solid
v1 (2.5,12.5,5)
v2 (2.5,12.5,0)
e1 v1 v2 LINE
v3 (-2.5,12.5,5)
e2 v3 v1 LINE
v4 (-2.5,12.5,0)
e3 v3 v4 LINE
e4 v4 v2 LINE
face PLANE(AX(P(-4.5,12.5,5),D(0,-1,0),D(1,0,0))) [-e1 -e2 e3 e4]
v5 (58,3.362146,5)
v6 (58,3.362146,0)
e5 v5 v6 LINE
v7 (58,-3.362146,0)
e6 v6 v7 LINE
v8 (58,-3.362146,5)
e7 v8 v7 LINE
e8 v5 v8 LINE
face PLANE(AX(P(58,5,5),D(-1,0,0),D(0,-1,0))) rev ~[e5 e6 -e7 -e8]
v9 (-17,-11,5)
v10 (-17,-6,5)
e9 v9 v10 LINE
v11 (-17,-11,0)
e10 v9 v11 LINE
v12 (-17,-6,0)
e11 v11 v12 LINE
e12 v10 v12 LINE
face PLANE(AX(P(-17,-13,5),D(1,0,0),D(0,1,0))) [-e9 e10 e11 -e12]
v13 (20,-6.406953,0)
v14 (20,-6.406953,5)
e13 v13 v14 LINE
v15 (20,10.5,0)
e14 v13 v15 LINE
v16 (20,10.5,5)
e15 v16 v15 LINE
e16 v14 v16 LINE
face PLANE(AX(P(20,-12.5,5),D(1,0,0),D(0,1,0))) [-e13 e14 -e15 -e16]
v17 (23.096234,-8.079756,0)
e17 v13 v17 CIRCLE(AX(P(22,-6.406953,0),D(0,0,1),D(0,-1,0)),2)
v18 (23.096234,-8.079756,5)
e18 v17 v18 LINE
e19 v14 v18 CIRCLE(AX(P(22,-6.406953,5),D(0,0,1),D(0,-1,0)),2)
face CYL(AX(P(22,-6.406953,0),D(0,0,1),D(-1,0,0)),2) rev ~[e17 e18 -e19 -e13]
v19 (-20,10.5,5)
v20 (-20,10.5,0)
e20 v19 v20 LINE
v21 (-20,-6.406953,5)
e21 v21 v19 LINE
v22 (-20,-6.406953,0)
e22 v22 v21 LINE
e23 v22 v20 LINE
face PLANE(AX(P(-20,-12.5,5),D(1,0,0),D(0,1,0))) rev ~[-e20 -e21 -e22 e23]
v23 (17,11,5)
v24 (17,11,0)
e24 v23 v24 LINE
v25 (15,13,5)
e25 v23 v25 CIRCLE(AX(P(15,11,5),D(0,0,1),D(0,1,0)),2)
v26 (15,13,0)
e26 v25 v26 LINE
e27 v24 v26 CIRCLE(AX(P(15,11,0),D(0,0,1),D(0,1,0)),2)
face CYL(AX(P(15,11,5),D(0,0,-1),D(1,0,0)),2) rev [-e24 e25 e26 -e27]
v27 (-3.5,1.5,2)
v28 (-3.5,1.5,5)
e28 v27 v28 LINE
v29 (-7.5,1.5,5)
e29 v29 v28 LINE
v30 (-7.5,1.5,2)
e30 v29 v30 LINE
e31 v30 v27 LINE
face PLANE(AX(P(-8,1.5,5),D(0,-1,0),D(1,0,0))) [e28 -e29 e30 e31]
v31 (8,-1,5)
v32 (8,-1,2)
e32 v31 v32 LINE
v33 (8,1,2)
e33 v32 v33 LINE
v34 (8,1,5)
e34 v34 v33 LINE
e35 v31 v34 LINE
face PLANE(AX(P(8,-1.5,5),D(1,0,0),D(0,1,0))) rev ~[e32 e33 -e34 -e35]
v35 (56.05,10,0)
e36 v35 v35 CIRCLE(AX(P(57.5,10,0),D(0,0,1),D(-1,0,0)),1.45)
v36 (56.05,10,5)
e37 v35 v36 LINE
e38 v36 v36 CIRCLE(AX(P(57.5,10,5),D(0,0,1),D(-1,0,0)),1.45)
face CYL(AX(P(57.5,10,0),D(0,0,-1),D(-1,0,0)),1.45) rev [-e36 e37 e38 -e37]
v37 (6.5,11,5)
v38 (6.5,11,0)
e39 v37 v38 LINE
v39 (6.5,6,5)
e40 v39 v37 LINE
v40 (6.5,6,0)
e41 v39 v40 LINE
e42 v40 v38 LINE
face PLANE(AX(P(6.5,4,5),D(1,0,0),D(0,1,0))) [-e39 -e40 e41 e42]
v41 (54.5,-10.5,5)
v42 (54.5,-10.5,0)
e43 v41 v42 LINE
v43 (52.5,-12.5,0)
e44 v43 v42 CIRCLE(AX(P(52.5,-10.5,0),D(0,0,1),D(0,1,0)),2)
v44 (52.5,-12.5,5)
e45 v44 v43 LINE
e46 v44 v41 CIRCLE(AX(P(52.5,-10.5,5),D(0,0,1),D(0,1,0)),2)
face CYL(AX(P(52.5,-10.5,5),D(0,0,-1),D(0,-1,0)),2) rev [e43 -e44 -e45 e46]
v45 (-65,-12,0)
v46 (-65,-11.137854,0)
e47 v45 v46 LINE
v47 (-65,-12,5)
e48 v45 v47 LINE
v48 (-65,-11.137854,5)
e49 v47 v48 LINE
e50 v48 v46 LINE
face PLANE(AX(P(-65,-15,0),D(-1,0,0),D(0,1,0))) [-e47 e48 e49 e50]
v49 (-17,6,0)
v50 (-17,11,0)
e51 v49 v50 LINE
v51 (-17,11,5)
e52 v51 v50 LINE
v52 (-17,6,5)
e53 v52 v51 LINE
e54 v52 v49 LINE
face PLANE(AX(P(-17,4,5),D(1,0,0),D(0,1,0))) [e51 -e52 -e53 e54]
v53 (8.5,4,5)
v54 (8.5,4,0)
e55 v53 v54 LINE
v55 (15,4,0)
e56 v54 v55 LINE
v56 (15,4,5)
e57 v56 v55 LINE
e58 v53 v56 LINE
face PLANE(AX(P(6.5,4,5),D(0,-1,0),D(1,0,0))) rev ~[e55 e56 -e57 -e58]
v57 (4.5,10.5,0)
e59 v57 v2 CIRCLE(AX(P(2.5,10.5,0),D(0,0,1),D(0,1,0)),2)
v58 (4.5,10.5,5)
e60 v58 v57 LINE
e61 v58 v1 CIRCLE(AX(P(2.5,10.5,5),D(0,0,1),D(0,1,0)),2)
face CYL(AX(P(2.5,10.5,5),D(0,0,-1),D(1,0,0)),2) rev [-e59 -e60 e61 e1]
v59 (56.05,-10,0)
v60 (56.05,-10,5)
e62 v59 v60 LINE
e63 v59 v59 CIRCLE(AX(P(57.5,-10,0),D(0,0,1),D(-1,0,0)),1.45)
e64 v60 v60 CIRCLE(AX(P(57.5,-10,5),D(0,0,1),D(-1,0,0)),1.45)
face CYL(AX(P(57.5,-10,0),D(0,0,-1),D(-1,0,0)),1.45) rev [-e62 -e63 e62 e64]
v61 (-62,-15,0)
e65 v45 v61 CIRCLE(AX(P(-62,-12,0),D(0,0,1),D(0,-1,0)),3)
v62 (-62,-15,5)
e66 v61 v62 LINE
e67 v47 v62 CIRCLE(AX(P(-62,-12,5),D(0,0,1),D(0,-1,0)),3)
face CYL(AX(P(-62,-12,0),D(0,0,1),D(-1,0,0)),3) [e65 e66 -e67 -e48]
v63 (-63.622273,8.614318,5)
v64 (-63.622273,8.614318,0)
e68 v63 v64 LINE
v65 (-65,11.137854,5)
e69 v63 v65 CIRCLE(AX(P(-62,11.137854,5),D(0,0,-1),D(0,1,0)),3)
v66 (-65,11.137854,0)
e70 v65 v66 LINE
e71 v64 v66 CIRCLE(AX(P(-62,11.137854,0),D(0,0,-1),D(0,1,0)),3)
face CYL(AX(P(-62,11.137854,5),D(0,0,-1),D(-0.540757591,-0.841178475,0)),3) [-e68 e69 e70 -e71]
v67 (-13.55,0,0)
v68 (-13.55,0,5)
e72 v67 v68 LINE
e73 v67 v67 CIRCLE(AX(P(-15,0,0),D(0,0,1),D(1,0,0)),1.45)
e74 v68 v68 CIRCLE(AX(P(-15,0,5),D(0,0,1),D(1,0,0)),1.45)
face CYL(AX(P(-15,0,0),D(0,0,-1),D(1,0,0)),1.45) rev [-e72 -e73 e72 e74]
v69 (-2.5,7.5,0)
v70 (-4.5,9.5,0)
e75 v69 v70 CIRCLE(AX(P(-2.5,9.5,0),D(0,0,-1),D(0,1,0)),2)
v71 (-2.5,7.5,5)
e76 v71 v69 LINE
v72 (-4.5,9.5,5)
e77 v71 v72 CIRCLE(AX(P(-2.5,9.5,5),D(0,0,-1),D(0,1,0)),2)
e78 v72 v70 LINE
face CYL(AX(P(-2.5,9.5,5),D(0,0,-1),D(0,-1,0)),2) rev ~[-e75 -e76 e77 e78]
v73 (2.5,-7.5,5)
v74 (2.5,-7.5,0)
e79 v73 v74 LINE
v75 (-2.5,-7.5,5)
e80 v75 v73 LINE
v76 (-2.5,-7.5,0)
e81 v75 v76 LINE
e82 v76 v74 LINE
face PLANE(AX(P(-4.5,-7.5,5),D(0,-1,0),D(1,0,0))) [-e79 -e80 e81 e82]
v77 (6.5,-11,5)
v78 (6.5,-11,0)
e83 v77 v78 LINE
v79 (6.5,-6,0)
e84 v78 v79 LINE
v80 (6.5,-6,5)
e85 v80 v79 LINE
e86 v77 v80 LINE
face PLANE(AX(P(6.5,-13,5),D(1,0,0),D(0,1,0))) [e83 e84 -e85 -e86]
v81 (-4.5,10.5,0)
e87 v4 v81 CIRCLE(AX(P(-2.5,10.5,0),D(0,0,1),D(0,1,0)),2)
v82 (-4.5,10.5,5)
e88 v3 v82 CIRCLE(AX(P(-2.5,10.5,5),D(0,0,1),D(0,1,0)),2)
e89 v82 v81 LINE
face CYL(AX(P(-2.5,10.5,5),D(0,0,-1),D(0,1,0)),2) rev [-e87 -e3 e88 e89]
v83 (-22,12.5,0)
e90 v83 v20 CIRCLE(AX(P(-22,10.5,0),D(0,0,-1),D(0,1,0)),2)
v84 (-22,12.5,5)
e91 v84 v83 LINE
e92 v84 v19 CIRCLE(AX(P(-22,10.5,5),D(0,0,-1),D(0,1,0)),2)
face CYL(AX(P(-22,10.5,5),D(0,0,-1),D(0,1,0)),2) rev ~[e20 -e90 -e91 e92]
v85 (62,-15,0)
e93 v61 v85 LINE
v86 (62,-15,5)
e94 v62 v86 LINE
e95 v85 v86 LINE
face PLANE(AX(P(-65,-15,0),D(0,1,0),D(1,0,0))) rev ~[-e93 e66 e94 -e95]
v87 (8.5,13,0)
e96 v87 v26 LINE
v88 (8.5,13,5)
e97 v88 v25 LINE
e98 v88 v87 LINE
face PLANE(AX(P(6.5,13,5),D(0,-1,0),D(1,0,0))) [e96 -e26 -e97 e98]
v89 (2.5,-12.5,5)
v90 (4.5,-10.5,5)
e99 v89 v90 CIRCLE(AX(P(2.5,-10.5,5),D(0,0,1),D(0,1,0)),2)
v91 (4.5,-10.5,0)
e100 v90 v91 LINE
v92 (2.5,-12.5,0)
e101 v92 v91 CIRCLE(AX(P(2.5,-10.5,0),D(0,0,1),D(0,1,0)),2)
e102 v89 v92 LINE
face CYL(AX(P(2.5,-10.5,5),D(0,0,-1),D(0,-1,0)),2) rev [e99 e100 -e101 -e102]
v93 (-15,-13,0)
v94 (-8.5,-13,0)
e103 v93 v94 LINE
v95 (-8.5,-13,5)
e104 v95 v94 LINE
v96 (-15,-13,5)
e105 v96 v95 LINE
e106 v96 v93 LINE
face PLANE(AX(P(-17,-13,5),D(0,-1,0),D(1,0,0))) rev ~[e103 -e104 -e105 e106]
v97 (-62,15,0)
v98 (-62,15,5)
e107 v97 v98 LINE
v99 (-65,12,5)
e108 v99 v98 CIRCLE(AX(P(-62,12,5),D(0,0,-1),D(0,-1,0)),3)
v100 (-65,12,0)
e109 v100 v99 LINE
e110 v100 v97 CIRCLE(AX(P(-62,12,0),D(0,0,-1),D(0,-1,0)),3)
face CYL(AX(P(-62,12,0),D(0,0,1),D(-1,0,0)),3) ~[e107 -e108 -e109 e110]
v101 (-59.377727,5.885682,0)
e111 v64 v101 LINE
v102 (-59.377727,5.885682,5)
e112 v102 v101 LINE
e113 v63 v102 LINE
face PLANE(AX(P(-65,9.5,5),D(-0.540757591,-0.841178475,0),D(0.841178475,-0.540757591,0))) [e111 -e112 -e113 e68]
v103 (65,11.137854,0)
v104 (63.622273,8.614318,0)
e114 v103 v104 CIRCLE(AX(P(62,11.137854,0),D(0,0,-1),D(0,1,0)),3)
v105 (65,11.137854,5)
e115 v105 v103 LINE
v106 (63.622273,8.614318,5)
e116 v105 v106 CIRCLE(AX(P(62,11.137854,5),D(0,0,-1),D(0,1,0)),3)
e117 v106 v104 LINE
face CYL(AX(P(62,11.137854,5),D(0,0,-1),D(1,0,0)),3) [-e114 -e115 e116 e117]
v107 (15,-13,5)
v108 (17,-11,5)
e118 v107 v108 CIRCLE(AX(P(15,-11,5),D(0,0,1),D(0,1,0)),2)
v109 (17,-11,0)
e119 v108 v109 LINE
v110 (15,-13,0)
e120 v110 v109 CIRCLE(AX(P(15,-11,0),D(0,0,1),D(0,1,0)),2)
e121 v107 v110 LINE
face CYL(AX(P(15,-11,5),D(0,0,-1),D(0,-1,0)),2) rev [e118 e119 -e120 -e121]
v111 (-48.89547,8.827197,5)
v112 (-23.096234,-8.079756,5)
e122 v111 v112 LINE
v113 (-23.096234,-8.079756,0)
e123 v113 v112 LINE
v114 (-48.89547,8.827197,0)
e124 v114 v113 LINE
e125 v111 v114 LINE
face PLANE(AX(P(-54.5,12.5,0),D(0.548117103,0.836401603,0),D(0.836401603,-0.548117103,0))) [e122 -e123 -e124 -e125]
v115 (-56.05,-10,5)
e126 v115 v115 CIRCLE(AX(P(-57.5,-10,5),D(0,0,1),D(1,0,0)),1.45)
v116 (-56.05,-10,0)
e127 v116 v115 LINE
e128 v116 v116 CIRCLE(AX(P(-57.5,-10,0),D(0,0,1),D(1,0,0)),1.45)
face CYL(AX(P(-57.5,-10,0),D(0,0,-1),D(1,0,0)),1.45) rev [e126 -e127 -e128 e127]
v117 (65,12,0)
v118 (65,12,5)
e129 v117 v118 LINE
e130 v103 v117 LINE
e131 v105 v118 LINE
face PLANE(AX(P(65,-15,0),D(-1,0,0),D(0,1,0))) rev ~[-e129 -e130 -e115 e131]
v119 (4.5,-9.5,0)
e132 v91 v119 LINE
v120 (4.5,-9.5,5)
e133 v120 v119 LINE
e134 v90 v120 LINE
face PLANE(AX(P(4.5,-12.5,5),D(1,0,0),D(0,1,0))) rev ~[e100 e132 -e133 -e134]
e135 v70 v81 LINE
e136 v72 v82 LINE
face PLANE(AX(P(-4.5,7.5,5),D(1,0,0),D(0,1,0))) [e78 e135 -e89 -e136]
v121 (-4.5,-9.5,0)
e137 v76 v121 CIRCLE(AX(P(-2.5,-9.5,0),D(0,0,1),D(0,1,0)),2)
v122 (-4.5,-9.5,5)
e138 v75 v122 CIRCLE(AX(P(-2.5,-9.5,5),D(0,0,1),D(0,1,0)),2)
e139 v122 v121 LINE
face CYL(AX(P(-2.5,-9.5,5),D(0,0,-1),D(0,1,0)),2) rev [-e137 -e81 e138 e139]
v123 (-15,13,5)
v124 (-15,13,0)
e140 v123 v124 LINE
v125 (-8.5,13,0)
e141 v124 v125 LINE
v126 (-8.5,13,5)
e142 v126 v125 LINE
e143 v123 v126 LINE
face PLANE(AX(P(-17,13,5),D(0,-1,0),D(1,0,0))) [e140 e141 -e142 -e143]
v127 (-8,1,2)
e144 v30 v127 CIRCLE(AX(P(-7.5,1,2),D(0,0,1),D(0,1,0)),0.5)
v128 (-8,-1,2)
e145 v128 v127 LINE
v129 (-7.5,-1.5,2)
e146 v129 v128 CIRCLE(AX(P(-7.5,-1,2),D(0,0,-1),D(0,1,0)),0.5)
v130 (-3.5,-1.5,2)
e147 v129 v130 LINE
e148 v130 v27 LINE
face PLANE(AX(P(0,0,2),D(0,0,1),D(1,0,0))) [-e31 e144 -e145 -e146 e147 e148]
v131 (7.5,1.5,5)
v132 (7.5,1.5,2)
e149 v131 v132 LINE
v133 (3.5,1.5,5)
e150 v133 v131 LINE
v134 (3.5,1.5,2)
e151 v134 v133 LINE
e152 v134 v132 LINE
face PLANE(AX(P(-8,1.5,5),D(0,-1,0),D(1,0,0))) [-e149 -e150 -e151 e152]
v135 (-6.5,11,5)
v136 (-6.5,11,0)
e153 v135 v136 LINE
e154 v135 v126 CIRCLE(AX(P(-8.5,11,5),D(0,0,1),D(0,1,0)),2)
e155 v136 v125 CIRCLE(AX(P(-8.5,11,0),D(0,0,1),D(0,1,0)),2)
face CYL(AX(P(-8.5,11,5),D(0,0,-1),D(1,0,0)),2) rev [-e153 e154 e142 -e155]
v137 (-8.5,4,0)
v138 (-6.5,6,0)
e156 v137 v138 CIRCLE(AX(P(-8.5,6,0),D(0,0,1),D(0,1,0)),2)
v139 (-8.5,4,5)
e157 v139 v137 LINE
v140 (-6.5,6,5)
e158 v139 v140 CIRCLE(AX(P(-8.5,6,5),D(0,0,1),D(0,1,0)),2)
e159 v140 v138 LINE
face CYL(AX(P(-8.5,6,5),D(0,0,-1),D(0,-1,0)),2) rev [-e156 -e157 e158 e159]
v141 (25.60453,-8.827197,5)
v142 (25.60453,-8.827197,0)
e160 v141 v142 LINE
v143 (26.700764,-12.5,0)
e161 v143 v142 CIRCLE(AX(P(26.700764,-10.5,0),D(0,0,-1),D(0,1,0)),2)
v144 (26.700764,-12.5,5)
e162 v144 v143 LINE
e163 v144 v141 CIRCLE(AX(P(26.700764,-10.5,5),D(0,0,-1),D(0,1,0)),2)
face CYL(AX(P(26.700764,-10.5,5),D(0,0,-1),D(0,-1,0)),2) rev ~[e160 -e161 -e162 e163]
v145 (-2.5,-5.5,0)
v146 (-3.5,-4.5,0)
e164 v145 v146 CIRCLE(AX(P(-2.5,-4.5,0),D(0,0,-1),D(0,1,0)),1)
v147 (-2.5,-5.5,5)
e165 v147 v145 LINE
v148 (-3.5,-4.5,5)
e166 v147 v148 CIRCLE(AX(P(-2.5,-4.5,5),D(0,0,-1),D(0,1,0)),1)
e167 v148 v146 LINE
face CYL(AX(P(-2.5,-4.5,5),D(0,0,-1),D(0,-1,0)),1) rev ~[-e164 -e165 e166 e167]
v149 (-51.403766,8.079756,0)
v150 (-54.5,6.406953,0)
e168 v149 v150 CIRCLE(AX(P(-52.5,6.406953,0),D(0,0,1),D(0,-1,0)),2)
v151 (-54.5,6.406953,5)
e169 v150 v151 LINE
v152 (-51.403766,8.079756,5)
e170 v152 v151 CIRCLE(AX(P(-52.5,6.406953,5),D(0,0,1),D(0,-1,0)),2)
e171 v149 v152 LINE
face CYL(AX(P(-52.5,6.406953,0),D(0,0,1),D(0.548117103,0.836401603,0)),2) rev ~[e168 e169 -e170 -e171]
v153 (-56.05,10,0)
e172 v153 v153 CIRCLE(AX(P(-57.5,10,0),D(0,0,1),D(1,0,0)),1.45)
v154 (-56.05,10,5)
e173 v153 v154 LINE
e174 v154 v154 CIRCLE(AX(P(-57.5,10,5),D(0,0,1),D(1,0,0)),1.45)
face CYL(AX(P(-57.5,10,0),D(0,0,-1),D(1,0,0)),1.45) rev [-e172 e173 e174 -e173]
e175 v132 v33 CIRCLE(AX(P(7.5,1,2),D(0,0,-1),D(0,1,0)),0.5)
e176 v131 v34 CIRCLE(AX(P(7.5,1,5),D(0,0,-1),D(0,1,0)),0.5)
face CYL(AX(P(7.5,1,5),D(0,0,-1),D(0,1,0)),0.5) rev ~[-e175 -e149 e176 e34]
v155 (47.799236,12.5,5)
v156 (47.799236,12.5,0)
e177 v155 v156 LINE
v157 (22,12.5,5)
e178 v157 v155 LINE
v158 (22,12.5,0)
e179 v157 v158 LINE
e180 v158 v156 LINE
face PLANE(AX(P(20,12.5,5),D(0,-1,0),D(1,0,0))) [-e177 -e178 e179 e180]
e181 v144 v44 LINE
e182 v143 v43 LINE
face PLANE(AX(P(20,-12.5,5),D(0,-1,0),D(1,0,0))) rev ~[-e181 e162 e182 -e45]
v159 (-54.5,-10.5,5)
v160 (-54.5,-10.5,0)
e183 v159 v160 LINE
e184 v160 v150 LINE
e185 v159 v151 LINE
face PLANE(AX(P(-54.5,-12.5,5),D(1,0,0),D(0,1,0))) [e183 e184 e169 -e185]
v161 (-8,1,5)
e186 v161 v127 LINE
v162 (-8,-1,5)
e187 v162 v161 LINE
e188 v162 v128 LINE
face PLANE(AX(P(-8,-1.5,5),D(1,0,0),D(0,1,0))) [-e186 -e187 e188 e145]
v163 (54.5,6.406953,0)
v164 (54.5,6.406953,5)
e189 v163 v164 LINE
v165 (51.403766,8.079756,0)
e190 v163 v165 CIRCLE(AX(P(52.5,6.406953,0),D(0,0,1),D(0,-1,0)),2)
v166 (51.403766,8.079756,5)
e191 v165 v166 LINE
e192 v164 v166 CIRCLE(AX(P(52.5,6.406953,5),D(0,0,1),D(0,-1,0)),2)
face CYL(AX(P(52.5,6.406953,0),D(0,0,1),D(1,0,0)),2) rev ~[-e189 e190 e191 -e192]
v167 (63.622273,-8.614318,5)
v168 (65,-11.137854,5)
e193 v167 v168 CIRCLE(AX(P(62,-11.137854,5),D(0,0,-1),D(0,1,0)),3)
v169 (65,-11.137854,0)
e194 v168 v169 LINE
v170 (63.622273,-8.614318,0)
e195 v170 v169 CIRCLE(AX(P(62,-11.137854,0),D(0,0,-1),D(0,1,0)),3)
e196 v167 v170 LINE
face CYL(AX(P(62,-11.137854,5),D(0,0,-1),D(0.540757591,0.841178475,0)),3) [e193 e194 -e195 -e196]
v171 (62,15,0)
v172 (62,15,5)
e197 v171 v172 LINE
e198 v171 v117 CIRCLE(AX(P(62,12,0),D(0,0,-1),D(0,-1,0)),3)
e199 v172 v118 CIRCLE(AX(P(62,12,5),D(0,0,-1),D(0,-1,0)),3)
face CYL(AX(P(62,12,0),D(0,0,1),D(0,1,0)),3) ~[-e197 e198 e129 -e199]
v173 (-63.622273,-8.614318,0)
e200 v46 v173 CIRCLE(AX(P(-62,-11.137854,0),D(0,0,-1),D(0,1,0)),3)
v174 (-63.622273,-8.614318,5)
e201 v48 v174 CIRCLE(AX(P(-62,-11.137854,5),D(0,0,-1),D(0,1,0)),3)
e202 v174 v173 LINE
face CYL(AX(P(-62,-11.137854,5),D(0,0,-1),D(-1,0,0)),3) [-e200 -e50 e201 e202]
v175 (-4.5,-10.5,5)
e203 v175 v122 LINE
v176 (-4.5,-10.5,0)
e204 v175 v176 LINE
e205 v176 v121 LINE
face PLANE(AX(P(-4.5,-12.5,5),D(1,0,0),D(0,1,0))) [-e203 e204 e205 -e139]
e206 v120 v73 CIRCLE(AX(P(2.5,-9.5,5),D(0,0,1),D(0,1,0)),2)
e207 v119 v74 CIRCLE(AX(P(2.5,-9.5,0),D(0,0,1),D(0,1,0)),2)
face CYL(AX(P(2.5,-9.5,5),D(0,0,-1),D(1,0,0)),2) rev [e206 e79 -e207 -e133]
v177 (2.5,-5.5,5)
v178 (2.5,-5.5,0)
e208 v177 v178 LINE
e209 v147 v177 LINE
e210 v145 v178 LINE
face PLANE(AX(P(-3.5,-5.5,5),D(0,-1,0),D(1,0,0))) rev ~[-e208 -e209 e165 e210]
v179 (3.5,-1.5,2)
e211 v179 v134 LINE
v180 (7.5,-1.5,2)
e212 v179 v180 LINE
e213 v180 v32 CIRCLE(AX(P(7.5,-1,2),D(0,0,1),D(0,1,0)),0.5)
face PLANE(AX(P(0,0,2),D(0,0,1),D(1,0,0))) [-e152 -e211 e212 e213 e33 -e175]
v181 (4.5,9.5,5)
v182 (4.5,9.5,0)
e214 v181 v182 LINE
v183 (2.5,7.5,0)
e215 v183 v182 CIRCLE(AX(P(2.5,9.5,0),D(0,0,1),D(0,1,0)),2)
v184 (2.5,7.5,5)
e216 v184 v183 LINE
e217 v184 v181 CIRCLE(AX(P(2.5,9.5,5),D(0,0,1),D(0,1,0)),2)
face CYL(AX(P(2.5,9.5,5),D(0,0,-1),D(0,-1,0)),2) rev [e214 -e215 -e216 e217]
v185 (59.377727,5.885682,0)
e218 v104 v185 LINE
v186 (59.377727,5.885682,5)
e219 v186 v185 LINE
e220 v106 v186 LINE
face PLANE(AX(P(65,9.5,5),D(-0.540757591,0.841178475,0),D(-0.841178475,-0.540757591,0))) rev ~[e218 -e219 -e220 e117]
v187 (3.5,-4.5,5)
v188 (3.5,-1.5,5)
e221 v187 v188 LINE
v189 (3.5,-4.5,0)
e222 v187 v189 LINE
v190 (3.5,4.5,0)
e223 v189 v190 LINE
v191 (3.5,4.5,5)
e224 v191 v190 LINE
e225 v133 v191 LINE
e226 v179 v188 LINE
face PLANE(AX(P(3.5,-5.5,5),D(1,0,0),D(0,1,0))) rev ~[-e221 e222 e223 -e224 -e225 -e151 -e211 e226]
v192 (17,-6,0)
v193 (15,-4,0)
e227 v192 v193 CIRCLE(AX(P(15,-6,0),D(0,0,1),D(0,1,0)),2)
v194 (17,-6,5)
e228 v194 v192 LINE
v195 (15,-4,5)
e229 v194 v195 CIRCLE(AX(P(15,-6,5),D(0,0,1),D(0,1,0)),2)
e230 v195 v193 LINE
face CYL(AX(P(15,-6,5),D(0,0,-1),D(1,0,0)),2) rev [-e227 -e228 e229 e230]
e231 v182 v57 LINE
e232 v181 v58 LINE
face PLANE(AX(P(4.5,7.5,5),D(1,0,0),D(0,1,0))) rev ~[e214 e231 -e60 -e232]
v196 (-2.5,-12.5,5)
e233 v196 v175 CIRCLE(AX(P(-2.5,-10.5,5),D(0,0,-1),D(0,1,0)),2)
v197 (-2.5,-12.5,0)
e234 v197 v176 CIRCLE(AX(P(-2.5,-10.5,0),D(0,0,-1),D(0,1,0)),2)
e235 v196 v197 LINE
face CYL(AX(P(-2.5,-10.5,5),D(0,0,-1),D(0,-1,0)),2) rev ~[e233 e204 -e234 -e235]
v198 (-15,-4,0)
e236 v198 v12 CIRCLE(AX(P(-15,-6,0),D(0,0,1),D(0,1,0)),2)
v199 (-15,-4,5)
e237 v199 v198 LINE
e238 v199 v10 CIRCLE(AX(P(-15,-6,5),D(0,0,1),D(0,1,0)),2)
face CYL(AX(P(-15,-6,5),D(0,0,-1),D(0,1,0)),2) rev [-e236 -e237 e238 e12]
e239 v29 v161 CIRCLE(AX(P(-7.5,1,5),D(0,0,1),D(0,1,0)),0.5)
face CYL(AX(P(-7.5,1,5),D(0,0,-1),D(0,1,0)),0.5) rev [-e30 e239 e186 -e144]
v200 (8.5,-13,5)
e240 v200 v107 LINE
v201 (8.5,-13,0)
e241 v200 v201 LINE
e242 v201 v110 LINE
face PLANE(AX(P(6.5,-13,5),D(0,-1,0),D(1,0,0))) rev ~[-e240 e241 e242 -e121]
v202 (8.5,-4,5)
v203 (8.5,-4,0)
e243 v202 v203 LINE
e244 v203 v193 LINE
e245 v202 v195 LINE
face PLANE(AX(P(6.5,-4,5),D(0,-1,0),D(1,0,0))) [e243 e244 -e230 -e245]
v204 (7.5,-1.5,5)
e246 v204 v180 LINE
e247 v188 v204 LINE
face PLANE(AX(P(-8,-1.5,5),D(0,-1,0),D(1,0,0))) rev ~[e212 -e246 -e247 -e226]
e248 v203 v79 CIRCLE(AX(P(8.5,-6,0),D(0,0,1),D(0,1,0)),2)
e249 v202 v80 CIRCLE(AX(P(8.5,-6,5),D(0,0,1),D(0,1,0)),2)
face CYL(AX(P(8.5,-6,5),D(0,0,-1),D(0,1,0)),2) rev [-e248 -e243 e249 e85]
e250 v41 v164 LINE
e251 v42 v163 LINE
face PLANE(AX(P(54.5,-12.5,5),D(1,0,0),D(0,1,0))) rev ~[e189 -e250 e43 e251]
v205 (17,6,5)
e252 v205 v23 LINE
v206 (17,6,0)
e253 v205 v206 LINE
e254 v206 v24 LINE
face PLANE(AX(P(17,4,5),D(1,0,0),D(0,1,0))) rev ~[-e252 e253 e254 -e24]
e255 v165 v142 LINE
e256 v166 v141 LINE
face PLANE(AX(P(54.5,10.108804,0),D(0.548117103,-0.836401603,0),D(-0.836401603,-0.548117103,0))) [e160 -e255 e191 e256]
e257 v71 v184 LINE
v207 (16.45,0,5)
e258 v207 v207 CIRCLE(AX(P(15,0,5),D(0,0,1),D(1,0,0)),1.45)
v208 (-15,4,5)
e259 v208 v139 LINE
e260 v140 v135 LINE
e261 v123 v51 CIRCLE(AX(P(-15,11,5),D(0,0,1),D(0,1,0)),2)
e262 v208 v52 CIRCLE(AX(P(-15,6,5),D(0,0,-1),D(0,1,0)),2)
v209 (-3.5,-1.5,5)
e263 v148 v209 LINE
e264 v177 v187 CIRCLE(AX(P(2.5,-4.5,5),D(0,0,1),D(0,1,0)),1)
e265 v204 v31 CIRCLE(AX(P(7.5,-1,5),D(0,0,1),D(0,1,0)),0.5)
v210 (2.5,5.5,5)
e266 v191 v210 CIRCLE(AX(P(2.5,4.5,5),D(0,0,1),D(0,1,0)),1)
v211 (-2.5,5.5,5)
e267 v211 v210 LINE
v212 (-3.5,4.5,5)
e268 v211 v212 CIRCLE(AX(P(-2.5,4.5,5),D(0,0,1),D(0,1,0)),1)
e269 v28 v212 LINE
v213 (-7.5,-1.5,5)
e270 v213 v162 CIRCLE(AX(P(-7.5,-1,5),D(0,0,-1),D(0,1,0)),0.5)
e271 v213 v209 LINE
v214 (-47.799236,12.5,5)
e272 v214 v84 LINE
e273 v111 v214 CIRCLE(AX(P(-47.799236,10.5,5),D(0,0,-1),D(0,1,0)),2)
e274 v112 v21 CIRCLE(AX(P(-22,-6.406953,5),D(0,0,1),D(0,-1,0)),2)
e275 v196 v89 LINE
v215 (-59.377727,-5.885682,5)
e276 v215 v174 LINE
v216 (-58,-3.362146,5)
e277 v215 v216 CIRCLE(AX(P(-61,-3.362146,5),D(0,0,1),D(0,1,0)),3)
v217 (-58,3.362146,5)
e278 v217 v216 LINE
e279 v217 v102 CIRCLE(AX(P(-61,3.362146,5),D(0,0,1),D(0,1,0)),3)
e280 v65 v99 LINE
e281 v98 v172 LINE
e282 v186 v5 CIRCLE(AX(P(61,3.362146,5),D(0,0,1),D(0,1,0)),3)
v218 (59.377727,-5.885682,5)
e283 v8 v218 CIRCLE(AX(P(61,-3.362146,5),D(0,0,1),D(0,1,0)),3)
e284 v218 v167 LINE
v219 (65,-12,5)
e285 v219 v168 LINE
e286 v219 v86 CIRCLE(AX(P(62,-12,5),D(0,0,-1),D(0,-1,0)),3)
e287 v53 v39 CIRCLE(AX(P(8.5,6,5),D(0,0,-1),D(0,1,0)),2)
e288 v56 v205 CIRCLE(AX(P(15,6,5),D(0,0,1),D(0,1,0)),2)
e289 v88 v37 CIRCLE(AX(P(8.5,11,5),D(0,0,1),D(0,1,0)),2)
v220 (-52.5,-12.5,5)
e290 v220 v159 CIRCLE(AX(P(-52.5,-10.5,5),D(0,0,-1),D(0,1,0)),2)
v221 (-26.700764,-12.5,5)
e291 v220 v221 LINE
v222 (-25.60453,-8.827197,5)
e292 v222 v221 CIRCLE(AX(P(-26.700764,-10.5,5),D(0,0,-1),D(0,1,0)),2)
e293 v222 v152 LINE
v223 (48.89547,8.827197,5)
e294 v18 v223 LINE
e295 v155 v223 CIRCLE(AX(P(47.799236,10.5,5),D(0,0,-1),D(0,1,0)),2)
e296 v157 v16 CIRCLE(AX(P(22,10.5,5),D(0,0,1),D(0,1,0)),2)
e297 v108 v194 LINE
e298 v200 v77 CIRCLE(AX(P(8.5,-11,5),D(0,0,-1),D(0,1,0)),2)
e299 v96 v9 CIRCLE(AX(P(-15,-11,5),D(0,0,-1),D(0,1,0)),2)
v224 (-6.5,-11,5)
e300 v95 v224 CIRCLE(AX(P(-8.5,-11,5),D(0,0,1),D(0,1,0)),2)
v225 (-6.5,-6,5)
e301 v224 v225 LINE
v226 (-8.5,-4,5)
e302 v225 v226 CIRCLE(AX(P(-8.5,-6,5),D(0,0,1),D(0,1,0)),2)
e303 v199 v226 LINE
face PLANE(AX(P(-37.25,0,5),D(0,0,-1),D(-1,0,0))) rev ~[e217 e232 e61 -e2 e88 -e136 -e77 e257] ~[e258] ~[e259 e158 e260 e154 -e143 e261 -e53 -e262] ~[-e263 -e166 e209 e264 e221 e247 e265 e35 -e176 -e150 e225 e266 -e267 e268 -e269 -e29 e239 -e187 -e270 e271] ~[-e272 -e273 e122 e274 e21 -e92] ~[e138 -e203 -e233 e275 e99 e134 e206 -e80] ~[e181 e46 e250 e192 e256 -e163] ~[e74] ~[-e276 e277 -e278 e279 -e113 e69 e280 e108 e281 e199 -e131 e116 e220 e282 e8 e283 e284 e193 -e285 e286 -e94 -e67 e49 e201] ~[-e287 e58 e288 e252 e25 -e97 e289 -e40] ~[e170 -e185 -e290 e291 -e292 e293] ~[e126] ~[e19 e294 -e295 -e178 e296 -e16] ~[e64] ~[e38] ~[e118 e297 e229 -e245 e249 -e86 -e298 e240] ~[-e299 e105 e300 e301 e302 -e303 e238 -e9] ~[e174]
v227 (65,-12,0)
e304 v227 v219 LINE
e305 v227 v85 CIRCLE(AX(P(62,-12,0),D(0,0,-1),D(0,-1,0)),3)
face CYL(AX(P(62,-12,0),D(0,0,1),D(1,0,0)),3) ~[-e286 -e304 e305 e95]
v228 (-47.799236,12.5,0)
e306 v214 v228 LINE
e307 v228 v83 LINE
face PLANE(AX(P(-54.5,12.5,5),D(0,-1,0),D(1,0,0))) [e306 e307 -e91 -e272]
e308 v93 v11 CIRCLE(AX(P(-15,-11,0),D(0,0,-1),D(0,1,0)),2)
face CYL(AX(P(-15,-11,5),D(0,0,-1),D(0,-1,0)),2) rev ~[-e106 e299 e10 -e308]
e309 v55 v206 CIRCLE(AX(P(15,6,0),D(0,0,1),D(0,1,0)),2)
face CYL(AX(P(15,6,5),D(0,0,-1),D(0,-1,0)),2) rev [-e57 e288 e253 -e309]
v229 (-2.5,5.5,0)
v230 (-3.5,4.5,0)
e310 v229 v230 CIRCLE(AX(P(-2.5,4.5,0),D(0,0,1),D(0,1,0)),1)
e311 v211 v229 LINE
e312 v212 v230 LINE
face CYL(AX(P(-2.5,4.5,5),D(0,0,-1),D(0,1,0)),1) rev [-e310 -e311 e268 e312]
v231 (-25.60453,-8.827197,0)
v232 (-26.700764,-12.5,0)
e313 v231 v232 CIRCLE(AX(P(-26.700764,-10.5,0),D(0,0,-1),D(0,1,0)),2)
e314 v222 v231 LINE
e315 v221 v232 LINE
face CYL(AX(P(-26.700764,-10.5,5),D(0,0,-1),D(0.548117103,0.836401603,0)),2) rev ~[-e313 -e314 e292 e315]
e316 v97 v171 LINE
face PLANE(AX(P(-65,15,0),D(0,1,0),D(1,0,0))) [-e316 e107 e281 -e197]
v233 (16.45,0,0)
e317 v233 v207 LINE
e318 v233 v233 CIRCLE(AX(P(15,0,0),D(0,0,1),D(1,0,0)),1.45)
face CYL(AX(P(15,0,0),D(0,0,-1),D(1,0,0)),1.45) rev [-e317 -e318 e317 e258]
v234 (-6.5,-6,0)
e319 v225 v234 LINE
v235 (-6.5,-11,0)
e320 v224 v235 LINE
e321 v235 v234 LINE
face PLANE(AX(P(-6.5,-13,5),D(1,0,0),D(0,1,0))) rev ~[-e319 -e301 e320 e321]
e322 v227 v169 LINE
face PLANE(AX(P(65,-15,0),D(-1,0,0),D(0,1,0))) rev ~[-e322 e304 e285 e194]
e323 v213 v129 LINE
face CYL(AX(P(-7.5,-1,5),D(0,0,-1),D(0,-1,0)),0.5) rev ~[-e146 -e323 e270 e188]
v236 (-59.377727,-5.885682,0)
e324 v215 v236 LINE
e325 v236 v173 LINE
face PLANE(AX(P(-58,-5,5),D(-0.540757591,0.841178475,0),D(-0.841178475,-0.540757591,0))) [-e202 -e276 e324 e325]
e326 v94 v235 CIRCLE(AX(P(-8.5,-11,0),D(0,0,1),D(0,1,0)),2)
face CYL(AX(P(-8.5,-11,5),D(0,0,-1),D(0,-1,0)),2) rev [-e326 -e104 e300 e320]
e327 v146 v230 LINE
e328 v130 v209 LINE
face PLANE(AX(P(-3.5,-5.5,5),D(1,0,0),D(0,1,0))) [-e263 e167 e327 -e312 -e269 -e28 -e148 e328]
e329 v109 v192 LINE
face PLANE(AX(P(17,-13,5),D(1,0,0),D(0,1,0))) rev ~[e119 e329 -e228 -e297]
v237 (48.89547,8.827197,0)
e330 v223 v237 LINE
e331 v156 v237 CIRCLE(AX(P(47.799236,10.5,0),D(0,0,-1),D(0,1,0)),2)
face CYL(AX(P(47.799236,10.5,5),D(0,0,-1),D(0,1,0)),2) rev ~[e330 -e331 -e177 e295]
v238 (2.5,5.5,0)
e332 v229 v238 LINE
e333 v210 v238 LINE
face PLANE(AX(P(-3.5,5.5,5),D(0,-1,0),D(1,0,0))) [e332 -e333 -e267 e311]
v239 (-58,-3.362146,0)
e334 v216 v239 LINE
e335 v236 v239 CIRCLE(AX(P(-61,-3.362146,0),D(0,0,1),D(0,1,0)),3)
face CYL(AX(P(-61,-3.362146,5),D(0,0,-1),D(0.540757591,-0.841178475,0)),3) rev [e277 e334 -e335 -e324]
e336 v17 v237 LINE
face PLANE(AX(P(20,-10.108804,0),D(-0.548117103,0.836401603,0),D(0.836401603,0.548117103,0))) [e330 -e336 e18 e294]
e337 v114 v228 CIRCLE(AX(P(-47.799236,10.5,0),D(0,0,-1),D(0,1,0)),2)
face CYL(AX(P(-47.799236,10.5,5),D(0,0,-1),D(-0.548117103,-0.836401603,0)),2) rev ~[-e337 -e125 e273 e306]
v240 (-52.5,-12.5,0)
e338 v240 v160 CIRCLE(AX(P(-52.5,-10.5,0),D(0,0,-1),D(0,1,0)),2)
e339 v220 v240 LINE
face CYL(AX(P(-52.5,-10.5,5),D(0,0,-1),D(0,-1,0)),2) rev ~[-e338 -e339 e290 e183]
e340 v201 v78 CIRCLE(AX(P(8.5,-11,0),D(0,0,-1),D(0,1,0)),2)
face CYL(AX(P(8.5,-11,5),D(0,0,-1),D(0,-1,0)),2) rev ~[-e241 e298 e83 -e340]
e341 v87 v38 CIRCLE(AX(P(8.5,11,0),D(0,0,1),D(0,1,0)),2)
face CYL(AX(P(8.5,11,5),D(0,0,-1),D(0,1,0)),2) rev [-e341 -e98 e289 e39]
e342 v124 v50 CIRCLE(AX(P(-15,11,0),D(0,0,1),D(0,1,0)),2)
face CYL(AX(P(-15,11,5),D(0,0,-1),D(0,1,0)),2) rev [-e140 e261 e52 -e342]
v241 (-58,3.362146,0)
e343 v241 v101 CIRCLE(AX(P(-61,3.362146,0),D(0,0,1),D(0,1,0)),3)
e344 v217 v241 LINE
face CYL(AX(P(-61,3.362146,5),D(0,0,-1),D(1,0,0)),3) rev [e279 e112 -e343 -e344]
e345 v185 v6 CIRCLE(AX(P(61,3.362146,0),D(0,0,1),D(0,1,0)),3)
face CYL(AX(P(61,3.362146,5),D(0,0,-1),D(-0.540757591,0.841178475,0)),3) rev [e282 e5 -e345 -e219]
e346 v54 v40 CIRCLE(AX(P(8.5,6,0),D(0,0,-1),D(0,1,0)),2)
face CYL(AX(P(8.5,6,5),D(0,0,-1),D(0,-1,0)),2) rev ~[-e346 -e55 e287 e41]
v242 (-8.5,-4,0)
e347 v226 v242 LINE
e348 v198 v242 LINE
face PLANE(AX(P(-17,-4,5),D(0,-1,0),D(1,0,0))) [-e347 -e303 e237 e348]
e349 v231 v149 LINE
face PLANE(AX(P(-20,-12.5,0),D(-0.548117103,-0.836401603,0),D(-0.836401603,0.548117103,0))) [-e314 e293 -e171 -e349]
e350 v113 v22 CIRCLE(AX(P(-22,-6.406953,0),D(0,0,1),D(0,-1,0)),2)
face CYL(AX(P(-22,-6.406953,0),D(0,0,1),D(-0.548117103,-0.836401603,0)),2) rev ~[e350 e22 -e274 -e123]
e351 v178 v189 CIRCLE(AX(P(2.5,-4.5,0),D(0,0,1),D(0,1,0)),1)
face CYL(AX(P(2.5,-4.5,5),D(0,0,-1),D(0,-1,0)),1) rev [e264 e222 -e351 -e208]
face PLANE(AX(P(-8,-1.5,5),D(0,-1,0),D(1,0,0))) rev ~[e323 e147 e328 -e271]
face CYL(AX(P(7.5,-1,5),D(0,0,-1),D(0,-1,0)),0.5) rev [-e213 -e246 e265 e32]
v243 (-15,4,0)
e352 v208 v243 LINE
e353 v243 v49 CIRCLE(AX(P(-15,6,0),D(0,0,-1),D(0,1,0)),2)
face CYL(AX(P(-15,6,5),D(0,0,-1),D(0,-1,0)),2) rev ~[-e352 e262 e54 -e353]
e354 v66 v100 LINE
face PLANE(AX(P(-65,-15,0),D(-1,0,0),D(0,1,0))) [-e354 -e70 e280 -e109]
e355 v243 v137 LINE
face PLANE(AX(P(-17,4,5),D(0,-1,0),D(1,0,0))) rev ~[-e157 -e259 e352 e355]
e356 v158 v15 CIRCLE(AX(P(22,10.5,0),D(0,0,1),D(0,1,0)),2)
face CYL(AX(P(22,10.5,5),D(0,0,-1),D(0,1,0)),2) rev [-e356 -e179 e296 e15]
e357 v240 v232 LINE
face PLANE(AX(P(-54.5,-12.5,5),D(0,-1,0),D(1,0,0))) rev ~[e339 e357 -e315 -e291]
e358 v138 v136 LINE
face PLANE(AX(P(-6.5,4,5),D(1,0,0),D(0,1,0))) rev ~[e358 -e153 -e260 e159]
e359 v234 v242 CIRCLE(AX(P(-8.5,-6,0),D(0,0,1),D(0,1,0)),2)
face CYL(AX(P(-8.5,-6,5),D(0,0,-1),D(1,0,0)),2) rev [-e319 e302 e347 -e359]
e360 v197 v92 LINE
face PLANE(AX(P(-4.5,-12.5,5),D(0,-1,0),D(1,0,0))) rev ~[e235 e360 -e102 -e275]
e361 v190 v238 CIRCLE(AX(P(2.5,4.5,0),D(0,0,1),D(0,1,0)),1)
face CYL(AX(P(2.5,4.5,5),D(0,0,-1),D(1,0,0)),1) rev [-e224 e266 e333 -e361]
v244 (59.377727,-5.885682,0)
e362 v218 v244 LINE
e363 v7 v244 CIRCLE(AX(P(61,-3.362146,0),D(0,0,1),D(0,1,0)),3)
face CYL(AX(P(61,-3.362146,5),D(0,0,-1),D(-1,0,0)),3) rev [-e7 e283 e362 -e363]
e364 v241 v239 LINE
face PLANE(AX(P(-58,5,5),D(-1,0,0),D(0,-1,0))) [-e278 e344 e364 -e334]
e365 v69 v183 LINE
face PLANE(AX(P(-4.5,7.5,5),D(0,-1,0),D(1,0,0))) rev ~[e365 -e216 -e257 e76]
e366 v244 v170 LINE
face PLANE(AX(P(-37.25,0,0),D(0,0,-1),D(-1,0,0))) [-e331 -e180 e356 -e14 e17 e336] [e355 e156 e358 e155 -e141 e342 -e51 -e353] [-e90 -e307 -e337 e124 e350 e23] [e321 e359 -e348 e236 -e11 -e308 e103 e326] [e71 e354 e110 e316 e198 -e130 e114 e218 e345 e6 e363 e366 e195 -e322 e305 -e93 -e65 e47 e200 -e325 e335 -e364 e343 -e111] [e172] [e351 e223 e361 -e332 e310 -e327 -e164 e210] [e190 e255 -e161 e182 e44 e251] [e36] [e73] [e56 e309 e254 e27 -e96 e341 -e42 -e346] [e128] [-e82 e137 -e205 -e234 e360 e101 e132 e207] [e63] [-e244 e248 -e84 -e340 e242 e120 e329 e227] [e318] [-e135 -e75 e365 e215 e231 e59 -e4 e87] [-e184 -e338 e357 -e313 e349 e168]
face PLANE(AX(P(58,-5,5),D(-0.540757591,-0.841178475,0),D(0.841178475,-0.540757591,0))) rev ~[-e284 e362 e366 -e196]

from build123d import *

# Parameters (mm, degrees)
SKETCH_1_W          = 130
SKETCH_1_H          = 30
SKETCH_1_R          = 1.45
EXTRUDE_1_DEPTH     = 5
SKETCH_3_W          = 16
SKETCH_3_H          = 3
CUT_EXTRUDE_1_DEPTH = 3
SKETCH_4_W          = 7
SKETCH_4_H          = 11
CUT_EXTRUDE_2_DEPTH = 67.895440801
SKETCH_6_W          = 34.5
SKETCH_6_H          = 25
SKETCH_6_W_2        = 10.5
SKETCH_6_H_2        = 9
SKETCH_6_W_3        = 9
SKETCH_6_H_3        = 5
CUT_EXTRUDE_3_DEPTH = 67.895440801
EXTRUDE_2_DEPTH     = 5
FILLET_1_R          = 2
FILLET_2_R          = 3
FILLET_3_R          = 1
FILLET_4_R          = 0.5


with BuildPart() as part:
    # 草图1 → 凸台-拉伸1 (new body)
    with BuildSketch(Plane.XY):
        Rectangle(SKETCH_1_W, SKETCH_1_H)
        with Locations((-57.5, -10)):
            Circle(SKETCH_1_R, mode=Mode.SUBTRACT)
        with Locations((-57.5, 10)):
            Circle(SKETCH_1_R, mode=Mode.SUBTRACT)
        with Locations(Location((57.5, -10, 0), (0, 0, 180))):
            Circle(SKETCH_1_R, mode=Mode.SUBTRACT)
        with Locations(Location((57.5, 10, 0), (0, 0, 180))):
            Circle(SKETCH_1_R, mode=Mode.SUBTRACT)
        with Locations((-15, 0)):
            Circle(SKETCH_1_R, mode=Mode.SUBTRACT)
        with Locations((15, 0)):
            Circle(SKETCH_1_R, mode=Mode.SUBTRACT)
    extrude(amount=EXTRUDE_1_DEPTH)

    # 草图3 → 切除-拉伸1 (cut)
    with BuildSketch(Plane.XY.offset(5)):
        Rectangle(SKETCH_3_W, SKETCH_3_H)
    extrude(amount=-CUT_EXTRUDE_1_DEPTH, mode=Mode.SUBTRACT)

    # 草图4 → 切除-拉伸2 (cut, through all)
    with BuildSketch(Plane.XY.offset(5)):
        Rectangle(SKETCH_4_W, SKETCH_4_H)
    extrude(amount=-CUT_EXTRUDE_2_DEPTH, mode=Mode.SUBTRACT)

    # 草图6 → 切除-拉伸3 (cut, through all)
    with BuildSketch(Plane.XY.offset(5)):
        Polygon((-65, 9.5), (-58, 5), (-58, -5), (-65, -9.5), align=None)
        with Locations((-37.25, 0)):
            Rectangle(SKETCH_6_W, SKETCH_6_H)
        with Locations((-11.75, 8.5)):
            Rectangle(SKETCH_6_W_2, SKETCH_6_H_2)
        with Locations((-11.75, -8.5)):
            Rectangle(SKETCH_6_W_2, SKETCH_6_H_2)
        with Locations((11.75, -8.5)):
            Rectangle(SKETCH_6_W_2, SKETCH_6_H_2)
        with Locations((11.75, 8.5)):
            Rectangle(SKETCH_6_W_2, SKETCH_6_H_2)
        with Locations((37.25, 0)):
            Rectangle(SKETCH_6_W, SKETCH_6_H)
        Polygon((65, -9.5), (65, 9.5), (58, 5), (58, -5), align=None)
        with Locations((0, 10)):
            Rectangle(SKETCH_6_W_3, SKETCH_6_H_3)
        with Locations((0, -10)):
            Rectangle(SKETCH_6_W_3, SKETCH_6_H_3)
    extrude(amount=-CUT_EXTRUDE_3_DEPTH, mode=Mode.SUBTRACT)

    # 草图7 → 凸台-拉伸2 (add)
    with BuildSketch(Plane.XY):
        Polygon((-54.5, 12.5), (-20, -10.108804199), (-20, -12.5), (-54.5, 10.108804199), align=None)
        Polygon((54.5, 12.5), (54.5, 10.108804199), (20, -12.5), (20, -10.108804199), align=None)
    extrude(amount=EXTRUDE_2_DEPTH)

    # 圆角1
    fillet_1_edges = [part.edges().sort_by_distance(p)[0] for p in [
        (-4.5, -12.5, 2.5),
        (-4.5, -7.5, 2.5),
        (4.5, -7.5, 2.5),
        (4.5, -12.5, 2.5),
        (6.5, -13, 2.5),
        (6.5, -4, 2.5),
        (17, -4, 2.5),
        (17, -13, 2.5),
        (-17, -4, 2.5),
        (-6.5, -4, 2.5),
        (-6.5, -13, 2.5),
        (-17, -13, 2.5),
        (-17, 13, 2.5),
        (-6.5, 13, 2.5),
        (-6.5, 4, 2.5),
        (-17, 4, 2.5),
        (-54.5, 12.5, 2.5),
        (-20, 12.5, 2.5),
        (-20, -12.5, 2.5),
        (-54.5, -12.5, 2.5),
        (-4.5, 7.5, 2.5),
        (-4.5, 12.5, 2.5),
        (4.5, 12.5, 2.5),
        (4.5, 7.5, 2.5),
        (20, -12.5, 2.5),
        (20, 12.5, 2.5),
        (54.5, 12.5, 2.5),
        (54.5, -12.5, 2.5),
        (6.5, 4, 2.5),
        (6.5, 13, 2.5),
        (17, 13, 2.5),
        (17, 4, 2.5),
        (-20, -10.108804199, 2.5),
        (-54.5, 10.108804199, 2.5),
        (54.5, 10.108804199, 2.5),
        (20, -10.108804199, 2.5),
    ]]
    fillet(fillet_1_edges, radius=FILLET_1_R)

    # 圆角2
    fillet_2_edges = [part.edges().sort_by_distance(p)[0] for p in [
        (-65, -9.5, 2.5),
        (-65, 9.5, 2.5),
        (-58, 5, 2.5),
        (-58, -5, 2.5),
        (65, -9.5, 2.5),
        (58, -5, 2.5),
        (58, 5, 2.5),
        (65, 9.5, 2.5),
        (65, -15, 2.5),
        (-65, -15, 2.5),
        (-65, 15, 2.5),
        (65, 15, 2.5),
    ]]
    fillet(fillet_2_edges, radius=FILLET_2_R)

    # 圆角3
    fillet_3_edges = [part.edges().sort_by_distance(p)[0] for p in [
        (3.5, 5.5, 2.5),
        (-3.5, -5.5, 2.5),
        (3.5, -5.5, 2.5),
        (-3.5, 5.5, 2.5),
    ]]
    fillet(fillet_3_edges, radius=FILLET_3_R)

    # 圆角4
    fillet_4_edges = [part.edges().sort_by_distance(p)[0] for p in [
        (8, 1.5, 3.5),
        (8, -1.5, 3.5),
        (-8, -1.5, 3.5),
        (-8, 1.5, 3.5),
    ]]
    fillet(fillet_4_edges, radius=FILLET_4_R)


solid = part.part
